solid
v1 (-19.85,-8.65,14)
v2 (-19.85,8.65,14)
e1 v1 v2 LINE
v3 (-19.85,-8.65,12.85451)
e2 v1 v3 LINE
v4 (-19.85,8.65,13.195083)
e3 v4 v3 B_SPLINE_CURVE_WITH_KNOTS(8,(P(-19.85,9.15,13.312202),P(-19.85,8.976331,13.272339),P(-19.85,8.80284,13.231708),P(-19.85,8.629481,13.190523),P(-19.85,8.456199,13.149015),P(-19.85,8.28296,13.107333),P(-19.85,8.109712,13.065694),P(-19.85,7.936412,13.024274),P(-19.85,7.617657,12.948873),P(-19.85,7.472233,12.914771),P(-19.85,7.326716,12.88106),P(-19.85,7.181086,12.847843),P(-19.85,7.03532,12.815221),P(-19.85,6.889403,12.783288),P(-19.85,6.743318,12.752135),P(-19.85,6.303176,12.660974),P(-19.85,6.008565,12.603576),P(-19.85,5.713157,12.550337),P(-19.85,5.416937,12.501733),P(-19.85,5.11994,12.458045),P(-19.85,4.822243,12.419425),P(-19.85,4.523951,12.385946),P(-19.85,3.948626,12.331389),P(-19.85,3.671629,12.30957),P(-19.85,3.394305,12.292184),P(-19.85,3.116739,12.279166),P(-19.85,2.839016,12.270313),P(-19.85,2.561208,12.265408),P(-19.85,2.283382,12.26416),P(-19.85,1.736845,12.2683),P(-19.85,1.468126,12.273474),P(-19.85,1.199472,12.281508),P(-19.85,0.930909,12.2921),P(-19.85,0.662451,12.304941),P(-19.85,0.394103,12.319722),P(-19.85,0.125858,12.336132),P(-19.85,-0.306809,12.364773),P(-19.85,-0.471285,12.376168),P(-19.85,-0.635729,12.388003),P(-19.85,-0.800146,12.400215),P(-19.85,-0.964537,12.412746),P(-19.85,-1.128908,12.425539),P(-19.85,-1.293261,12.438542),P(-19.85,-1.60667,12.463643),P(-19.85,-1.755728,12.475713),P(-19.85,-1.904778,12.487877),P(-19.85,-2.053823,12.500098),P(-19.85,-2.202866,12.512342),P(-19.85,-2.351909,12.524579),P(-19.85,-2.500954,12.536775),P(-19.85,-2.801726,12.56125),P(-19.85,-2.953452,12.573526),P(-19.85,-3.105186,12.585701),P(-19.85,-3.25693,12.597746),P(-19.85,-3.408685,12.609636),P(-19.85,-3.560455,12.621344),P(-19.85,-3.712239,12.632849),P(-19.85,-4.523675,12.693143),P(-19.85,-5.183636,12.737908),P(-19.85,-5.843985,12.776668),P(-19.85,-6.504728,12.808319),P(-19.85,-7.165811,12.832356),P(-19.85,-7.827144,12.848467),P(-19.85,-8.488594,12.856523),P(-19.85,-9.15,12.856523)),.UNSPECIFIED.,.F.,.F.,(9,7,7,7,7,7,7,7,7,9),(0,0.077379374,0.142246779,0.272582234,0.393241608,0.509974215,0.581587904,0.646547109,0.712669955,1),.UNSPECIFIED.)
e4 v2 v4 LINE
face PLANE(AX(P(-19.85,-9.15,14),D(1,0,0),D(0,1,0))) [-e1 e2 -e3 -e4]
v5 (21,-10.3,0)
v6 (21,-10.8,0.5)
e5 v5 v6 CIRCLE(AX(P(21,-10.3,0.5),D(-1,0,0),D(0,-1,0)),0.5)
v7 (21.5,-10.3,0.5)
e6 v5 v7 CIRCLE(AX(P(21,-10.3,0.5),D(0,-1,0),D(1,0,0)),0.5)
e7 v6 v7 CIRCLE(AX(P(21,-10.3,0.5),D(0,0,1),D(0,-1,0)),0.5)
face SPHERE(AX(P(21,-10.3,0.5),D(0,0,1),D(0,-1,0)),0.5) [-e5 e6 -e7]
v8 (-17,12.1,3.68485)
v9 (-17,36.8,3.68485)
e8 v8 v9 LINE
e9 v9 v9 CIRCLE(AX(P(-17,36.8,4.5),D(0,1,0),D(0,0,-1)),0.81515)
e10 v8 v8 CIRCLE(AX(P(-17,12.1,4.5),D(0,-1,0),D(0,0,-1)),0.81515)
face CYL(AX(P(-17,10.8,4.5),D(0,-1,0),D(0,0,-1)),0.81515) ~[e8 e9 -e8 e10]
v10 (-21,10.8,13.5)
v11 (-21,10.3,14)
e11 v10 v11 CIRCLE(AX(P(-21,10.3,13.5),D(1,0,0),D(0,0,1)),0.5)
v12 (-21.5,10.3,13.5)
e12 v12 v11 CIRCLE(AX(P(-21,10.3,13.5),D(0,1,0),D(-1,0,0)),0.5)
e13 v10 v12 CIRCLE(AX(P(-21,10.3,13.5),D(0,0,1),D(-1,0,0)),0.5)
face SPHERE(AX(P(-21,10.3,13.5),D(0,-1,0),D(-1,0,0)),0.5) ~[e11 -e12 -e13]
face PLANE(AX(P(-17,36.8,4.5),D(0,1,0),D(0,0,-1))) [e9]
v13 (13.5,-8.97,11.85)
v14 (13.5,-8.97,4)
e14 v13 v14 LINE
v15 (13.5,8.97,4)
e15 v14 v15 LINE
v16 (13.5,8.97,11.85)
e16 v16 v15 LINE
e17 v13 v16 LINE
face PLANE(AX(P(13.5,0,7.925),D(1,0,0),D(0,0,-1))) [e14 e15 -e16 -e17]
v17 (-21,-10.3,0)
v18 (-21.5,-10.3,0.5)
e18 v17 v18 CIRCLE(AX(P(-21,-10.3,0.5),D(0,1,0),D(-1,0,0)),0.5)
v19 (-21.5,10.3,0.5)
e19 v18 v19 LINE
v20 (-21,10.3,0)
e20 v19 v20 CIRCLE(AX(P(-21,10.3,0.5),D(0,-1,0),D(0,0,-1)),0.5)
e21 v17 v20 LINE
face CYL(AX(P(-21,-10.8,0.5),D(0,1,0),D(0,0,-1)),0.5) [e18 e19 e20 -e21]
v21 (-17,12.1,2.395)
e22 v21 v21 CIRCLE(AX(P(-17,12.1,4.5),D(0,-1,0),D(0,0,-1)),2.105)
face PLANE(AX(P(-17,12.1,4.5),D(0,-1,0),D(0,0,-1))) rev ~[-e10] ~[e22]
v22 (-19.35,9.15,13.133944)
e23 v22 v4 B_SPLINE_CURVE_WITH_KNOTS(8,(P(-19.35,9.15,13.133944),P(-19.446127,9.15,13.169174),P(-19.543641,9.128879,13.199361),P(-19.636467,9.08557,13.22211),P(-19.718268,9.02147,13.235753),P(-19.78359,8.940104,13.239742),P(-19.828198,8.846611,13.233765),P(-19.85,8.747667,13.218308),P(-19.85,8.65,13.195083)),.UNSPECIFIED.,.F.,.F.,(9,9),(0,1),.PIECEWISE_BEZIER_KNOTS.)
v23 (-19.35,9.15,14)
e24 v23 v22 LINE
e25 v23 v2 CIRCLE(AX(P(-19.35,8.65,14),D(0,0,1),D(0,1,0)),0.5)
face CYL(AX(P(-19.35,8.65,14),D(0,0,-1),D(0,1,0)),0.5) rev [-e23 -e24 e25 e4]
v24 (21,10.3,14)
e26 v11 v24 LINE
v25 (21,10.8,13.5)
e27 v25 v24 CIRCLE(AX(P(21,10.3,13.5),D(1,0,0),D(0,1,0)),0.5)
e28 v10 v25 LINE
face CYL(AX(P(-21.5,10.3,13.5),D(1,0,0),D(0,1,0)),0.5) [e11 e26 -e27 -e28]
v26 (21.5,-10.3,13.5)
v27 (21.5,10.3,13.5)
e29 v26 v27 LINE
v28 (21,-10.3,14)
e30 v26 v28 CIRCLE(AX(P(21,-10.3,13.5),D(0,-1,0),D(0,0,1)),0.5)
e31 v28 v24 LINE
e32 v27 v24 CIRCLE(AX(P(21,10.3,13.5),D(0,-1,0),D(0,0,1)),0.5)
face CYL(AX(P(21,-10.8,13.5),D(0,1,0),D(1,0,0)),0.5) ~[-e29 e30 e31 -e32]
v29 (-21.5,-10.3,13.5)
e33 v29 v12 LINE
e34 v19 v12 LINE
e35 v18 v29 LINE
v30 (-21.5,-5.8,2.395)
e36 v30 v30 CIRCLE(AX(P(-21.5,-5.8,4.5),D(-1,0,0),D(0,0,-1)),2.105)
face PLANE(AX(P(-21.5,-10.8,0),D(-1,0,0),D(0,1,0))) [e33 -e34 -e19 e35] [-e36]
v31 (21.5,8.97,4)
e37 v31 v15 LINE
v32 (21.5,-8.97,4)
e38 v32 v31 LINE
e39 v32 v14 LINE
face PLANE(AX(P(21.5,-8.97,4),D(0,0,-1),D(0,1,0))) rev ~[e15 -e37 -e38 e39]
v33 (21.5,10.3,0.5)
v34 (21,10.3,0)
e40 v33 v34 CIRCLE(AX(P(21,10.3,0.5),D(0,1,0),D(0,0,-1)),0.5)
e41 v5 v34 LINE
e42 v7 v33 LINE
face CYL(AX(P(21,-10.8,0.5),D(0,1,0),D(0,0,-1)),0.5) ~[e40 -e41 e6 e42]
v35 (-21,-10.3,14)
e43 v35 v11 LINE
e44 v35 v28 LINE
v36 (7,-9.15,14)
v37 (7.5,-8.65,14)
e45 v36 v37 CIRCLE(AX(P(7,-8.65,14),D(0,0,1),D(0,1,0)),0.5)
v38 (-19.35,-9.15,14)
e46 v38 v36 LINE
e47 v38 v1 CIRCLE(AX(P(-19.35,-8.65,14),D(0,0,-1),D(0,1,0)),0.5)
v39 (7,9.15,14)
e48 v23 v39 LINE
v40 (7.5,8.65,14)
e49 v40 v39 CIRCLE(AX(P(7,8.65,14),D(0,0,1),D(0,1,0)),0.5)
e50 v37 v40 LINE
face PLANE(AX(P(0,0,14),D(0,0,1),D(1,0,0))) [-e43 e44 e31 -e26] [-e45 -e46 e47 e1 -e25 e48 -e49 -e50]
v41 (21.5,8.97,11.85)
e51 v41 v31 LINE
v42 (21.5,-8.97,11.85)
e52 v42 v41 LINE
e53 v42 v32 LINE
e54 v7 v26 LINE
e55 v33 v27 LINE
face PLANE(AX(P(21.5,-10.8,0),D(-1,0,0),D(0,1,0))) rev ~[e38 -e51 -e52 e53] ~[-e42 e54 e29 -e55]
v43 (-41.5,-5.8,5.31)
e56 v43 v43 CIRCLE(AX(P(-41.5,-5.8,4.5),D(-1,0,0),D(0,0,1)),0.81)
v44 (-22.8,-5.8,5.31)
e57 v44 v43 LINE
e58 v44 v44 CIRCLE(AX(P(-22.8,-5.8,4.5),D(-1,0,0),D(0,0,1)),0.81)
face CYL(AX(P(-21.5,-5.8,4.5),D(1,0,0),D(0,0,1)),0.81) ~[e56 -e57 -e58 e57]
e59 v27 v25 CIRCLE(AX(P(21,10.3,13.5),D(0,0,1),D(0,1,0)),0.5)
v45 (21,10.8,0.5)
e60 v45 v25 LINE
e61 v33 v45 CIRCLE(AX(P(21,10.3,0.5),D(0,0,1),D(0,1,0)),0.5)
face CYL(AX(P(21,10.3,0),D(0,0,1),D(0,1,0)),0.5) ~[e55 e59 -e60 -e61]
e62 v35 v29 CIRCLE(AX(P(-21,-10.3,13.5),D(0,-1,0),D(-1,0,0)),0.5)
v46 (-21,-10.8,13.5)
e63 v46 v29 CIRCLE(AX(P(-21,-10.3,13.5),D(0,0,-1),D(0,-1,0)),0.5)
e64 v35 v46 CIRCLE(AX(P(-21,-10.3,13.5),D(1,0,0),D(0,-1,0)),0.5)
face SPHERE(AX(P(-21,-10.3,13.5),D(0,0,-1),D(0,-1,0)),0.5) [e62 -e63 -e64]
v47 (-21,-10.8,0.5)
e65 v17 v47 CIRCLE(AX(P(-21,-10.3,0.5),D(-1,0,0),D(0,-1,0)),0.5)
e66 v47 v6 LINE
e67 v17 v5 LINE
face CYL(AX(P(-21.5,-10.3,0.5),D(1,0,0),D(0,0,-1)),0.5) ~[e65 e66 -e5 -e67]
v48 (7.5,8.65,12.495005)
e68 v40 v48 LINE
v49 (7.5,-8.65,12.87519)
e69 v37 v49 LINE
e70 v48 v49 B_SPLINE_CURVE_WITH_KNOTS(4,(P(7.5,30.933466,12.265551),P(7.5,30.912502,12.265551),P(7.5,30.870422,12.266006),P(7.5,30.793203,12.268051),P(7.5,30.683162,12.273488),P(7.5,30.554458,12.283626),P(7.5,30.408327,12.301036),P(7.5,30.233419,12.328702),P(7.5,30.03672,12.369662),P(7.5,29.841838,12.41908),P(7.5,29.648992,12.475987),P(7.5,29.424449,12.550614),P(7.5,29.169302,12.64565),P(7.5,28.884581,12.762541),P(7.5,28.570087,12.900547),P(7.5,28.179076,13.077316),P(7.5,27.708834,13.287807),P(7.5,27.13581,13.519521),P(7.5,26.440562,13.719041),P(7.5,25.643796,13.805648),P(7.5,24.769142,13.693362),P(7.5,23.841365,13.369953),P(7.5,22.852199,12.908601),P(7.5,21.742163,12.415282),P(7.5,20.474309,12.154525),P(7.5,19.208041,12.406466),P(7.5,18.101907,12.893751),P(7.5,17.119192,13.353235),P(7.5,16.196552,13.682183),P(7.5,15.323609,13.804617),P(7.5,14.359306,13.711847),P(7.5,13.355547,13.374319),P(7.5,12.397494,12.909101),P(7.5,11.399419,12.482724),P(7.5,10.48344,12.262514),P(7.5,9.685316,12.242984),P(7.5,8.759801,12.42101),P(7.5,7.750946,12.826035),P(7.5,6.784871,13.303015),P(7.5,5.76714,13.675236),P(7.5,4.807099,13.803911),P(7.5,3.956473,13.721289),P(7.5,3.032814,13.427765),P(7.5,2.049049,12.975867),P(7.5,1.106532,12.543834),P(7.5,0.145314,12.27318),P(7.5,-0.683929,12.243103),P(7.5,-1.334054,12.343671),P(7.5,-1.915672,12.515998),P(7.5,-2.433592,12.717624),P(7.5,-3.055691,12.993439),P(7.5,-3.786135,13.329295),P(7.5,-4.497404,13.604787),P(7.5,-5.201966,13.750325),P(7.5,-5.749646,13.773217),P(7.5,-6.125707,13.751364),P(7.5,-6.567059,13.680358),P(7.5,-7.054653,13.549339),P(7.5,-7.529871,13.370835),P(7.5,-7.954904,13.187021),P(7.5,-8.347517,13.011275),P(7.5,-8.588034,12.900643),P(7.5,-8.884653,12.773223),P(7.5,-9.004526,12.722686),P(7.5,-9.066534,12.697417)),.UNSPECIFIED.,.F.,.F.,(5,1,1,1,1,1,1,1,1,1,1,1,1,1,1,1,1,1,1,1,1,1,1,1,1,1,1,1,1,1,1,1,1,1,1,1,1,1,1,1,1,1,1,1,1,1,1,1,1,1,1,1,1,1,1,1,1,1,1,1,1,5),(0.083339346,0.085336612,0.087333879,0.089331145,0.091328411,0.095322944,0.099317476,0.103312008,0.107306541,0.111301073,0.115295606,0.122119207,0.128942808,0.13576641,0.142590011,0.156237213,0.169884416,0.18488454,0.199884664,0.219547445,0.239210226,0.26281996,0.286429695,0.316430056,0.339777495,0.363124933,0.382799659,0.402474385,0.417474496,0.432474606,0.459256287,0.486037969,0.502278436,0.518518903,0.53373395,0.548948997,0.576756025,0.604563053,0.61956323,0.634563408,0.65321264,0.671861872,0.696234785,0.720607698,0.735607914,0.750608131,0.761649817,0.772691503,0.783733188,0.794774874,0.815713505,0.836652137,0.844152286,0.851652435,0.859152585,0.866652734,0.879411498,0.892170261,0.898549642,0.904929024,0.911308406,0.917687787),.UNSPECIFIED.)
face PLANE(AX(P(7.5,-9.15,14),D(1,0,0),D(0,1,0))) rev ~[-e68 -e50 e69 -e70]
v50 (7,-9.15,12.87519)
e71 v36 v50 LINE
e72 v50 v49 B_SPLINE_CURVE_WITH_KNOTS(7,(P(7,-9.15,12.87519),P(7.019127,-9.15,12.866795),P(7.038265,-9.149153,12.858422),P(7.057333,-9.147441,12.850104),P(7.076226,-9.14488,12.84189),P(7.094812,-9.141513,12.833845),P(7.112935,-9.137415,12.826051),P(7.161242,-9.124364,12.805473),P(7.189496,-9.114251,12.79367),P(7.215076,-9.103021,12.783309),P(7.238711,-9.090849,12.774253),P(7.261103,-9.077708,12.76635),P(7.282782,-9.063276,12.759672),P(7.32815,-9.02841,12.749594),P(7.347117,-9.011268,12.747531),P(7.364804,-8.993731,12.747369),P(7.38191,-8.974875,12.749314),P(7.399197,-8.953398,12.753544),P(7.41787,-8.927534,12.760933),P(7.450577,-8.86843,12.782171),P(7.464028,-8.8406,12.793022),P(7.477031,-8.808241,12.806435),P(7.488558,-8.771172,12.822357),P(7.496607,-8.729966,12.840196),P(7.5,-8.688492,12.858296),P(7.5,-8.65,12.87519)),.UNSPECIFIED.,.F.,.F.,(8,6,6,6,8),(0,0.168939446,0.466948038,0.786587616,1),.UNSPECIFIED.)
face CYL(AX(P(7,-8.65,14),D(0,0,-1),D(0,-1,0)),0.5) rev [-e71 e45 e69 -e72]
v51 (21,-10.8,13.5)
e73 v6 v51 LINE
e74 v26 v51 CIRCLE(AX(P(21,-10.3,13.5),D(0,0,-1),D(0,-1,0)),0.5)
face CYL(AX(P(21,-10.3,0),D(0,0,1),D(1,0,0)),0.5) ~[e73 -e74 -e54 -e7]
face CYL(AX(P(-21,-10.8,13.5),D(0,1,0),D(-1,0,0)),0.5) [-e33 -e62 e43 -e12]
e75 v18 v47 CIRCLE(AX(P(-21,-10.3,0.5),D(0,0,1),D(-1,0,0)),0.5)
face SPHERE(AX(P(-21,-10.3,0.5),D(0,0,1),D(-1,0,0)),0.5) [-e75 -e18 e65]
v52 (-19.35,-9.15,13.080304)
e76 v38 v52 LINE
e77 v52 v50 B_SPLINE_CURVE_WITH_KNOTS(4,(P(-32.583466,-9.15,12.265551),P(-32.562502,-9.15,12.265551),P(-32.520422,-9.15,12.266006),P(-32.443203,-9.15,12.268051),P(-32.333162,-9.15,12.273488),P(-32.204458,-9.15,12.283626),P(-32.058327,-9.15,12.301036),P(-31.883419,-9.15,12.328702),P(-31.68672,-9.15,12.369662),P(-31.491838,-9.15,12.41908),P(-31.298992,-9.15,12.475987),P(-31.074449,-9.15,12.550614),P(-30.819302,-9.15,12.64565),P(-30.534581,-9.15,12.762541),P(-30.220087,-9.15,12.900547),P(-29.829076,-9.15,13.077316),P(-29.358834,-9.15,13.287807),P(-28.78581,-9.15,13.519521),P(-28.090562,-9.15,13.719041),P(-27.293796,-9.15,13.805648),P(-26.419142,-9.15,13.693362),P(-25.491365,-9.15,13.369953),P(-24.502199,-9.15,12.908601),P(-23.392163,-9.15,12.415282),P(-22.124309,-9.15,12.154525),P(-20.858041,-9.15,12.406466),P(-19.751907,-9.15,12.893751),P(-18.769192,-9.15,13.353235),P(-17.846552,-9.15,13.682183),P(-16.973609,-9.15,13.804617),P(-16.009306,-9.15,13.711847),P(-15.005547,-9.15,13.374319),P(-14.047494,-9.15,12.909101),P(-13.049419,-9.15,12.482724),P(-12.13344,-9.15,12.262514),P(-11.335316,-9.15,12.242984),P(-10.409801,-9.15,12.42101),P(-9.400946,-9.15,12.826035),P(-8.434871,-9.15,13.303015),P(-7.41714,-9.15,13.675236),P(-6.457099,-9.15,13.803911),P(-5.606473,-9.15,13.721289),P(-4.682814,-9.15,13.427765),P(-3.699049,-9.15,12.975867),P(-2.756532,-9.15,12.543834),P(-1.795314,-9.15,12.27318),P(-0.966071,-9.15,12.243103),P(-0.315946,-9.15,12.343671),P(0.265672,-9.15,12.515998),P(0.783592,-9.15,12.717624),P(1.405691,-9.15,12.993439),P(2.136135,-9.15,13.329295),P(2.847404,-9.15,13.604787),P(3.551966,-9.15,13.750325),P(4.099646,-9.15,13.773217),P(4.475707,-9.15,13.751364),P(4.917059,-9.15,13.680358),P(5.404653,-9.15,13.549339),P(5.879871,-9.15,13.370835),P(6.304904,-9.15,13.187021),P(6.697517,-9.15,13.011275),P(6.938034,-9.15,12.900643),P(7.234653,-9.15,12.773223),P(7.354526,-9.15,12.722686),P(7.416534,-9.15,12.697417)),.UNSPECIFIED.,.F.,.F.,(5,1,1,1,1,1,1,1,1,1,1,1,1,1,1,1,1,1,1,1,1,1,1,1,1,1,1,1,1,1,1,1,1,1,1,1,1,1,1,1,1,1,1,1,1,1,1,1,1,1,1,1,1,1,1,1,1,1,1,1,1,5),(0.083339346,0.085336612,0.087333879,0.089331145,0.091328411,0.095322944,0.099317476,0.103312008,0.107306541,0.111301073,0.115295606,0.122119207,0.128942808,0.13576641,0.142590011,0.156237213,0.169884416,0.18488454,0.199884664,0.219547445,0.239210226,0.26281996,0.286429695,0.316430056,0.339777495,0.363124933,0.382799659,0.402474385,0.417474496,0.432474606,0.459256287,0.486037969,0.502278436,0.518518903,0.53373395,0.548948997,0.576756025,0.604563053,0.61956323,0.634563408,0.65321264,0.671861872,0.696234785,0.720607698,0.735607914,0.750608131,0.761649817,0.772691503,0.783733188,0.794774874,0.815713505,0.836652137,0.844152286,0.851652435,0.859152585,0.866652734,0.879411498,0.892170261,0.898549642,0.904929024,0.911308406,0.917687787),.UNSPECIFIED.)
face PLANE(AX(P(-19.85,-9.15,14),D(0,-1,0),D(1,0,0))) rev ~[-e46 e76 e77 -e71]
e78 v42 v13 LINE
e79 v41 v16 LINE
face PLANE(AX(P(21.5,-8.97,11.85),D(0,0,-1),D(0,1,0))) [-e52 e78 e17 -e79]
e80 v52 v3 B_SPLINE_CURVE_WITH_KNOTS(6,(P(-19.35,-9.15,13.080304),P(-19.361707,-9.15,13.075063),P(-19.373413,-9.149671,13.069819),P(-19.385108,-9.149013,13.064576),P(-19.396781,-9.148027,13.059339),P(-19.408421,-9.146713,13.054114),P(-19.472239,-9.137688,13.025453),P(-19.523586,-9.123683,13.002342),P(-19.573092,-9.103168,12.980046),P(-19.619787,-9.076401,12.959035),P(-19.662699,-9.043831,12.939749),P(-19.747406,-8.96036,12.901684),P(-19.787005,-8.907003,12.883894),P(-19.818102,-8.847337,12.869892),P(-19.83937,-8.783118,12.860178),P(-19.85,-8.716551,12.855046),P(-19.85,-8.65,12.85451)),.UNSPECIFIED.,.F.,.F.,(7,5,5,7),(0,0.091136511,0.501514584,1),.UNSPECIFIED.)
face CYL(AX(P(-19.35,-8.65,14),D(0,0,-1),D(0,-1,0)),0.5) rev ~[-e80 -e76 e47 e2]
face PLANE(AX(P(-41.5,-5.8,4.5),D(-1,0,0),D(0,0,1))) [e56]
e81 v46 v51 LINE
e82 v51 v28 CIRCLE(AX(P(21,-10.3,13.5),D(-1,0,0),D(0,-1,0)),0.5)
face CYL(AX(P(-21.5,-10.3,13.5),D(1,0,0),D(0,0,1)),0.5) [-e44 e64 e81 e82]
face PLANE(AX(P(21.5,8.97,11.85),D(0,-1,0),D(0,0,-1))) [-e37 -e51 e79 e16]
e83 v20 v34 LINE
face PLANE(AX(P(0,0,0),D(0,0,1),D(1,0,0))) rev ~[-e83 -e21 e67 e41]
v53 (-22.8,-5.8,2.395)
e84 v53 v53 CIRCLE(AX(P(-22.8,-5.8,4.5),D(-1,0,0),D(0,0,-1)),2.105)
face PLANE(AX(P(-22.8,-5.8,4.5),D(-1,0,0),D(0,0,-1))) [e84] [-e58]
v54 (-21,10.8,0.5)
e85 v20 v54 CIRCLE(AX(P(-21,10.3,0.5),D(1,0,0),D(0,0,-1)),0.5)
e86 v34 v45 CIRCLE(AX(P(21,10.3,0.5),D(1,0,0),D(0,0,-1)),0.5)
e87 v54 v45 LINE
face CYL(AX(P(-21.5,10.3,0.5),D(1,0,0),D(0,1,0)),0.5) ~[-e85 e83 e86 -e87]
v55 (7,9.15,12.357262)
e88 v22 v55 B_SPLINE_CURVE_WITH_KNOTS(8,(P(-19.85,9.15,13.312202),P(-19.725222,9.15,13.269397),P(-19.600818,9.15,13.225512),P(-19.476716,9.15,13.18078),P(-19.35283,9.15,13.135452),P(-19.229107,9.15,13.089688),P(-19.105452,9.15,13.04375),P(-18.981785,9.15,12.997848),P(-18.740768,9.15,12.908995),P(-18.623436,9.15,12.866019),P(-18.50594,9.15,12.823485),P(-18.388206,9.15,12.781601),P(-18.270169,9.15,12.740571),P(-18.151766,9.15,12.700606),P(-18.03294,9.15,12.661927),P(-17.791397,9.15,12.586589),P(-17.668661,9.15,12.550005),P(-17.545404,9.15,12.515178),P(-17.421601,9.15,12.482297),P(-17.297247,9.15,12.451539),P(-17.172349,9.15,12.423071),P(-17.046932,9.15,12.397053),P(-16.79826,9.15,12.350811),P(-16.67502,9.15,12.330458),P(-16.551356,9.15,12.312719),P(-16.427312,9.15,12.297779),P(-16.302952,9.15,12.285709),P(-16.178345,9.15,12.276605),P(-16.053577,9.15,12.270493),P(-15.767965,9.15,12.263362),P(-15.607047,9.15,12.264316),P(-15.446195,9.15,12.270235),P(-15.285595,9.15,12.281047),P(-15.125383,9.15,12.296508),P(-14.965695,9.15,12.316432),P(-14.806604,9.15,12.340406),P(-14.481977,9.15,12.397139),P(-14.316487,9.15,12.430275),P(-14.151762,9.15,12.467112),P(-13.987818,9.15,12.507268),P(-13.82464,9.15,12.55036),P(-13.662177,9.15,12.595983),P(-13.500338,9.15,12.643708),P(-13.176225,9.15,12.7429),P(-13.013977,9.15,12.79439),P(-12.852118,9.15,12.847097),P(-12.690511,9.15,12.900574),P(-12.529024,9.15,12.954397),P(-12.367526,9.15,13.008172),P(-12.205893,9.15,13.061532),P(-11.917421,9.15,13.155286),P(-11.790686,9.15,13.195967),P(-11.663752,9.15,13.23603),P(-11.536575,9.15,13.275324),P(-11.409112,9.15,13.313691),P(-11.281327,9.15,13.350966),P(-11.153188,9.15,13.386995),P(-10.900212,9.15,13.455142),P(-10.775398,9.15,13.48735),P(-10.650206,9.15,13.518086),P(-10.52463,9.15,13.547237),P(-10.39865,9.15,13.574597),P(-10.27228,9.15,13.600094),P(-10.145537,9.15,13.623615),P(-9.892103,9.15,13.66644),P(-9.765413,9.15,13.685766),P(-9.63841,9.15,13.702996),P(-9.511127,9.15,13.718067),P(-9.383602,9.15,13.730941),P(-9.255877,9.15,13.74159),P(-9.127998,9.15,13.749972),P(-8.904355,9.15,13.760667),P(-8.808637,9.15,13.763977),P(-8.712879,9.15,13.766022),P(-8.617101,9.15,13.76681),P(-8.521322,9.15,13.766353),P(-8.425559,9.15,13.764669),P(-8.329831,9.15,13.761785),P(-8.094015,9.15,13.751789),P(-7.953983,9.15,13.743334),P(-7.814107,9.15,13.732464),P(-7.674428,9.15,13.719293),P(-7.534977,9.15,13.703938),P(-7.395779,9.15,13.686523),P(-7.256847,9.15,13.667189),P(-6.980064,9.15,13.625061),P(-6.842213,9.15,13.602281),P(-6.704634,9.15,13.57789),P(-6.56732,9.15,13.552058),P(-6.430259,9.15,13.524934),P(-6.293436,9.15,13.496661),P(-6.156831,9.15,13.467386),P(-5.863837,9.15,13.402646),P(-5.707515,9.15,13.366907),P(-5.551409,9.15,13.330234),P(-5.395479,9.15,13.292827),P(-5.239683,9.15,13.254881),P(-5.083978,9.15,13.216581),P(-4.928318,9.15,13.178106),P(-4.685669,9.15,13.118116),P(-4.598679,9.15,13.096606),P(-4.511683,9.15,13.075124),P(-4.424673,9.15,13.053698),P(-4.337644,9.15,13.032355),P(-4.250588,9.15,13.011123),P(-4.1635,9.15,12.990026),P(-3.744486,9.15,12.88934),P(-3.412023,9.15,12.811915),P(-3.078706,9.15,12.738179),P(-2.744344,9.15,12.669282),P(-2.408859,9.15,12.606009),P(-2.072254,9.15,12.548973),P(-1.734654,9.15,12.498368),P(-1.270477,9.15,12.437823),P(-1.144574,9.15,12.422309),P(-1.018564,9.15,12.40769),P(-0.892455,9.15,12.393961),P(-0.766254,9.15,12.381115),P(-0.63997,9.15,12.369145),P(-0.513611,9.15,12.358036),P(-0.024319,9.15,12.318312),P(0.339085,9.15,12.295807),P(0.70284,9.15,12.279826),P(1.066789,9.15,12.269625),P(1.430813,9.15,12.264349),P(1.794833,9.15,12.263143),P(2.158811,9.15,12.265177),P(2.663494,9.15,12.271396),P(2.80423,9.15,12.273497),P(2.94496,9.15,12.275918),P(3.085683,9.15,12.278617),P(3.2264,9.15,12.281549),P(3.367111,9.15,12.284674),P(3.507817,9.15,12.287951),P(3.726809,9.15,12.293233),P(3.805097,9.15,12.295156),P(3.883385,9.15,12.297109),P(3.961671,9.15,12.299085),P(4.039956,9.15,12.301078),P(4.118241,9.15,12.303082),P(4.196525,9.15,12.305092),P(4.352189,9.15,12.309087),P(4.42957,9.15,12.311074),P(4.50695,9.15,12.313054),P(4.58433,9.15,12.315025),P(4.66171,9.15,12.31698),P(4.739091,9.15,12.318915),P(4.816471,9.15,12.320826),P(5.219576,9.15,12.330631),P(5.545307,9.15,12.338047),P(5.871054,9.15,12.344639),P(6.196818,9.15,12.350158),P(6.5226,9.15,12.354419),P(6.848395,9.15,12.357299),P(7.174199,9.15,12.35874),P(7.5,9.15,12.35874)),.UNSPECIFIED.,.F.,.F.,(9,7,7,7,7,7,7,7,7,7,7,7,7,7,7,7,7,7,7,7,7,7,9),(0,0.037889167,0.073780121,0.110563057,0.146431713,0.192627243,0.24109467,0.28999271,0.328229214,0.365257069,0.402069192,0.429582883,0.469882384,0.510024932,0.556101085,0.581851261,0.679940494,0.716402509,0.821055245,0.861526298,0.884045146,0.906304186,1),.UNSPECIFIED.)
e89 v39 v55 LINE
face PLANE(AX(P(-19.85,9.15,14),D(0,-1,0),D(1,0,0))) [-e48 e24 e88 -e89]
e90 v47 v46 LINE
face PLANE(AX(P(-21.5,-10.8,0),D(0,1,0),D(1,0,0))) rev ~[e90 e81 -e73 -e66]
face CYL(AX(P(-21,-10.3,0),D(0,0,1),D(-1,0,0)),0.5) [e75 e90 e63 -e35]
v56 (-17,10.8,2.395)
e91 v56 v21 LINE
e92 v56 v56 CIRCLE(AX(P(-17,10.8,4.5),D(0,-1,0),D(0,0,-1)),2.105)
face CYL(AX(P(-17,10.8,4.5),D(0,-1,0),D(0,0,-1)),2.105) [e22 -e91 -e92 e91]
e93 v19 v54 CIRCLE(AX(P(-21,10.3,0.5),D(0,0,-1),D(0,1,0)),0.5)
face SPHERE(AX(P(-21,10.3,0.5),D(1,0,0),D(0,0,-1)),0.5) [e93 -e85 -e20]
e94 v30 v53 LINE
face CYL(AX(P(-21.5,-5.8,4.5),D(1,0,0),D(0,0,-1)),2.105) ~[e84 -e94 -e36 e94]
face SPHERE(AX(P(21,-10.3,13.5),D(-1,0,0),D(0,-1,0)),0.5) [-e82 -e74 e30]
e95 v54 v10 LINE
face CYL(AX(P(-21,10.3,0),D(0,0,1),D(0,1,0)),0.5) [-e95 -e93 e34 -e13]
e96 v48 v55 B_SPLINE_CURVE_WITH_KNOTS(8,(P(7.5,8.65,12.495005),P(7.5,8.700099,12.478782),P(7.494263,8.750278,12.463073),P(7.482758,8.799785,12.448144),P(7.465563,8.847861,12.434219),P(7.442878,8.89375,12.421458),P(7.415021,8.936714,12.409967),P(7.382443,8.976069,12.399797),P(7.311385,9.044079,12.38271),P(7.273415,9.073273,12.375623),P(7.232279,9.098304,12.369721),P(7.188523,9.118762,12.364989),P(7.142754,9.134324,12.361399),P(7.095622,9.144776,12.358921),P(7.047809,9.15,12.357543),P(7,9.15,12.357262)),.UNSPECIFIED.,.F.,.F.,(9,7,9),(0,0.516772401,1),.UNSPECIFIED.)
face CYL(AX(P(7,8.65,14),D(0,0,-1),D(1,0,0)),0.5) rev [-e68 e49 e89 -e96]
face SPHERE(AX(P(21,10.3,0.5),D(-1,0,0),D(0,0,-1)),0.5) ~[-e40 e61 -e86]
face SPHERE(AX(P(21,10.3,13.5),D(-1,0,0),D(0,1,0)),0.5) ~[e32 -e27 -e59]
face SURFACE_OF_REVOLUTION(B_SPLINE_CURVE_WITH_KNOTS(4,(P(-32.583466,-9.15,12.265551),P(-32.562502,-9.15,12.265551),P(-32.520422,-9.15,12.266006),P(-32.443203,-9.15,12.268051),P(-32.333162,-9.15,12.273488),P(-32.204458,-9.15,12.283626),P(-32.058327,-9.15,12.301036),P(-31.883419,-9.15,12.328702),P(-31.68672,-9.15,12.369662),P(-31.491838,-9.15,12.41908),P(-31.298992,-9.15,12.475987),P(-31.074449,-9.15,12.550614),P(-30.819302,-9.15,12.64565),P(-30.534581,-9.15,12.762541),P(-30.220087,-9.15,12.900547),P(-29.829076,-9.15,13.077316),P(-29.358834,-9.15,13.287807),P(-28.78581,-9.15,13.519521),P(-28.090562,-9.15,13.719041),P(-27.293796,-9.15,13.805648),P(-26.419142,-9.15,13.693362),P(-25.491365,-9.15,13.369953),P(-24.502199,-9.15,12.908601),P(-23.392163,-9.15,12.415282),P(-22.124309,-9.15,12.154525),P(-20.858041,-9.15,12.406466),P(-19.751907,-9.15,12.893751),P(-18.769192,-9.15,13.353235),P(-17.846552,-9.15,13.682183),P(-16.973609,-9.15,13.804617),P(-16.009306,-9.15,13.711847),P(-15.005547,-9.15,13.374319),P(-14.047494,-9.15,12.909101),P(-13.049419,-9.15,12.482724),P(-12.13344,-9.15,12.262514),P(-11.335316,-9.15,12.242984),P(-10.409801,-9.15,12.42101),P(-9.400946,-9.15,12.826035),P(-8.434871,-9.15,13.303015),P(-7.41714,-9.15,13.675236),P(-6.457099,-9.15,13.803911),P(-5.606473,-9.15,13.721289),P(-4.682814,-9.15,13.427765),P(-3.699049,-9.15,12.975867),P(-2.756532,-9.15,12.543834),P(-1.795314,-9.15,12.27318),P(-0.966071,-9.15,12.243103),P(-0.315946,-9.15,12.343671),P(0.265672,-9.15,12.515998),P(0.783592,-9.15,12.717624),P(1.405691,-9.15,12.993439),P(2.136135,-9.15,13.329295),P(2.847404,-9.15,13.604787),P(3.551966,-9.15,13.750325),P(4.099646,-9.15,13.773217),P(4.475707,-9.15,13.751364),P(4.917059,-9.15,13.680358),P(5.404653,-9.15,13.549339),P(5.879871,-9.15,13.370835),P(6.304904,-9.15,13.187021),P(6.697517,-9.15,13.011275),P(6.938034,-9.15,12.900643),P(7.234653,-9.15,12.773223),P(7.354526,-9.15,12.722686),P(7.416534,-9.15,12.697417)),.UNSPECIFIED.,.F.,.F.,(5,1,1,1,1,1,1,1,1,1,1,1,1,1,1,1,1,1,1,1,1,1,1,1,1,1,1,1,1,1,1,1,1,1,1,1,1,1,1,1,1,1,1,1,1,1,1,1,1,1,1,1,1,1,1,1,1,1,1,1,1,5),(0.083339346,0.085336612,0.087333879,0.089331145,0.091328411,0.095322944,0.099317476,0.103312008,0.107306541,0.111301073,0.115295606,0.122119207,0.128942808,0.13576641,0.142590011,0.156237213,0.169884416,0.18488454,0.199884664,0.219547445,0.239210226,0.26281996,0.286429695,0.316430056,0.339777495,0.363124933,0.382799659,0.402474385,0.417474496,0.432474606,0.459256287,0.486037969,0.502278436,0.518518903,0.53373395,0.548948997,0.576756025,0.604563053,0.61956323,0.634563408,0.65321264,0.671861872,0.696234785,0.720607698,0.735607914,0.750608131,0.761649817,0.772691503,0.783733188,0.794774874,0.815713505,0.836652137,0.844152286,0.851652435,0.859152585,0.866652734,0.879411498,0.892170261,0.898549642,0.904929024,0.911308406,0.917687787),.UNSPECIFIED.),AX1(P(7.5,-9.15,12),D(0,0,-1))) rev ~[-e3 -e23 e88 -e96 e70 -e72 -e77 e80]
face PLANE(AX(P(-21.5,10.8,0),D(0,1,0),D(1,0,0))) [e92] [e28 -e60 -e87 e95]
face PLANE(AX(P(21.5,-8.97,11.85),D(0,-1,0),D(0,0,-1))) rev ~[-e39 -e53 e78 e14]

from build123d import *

# Parameters (mm, degrees)
SKETCH1_W           = 43
SKETCH1_H           = 21.6
BOSS_EXTRUDE1_DEPTH = 14
SKETCH2_W           = 27.35
SKETCH2_H           = 18.3
CUT_EXTRUDE1_DEPTH  = 2
SKETCH3_W           = 7.85
SKETCH3_H           = 17.94
CUT_EXTRUDE2_DEPTH  = 8
REVOLVE2_ANGLE      = 90
SKETCH5_W           = 92.23581066
SKETCH5_H           = 73.43389541
SKETCH5_W_2         = 43
SKETCH5_H_2         = 21.6
CUT_EXTRUDE3_DEPTH  = 23
SKETCH6_R           = 2.105
SKETCH6_R_2         = 0.81
BOSS_EXTRUDE2_DEPTH = 1.3
SKETCH7_R           = 2.105
SKETCH7_R_2         = 0.81
BOSS_EXTRUDE3_DEPTH = 1.3
SKETCH8_R           = 0.81
BOSS_EXTRUDE4_DEPTH = 20
SKETCH9_R           = 0.815150105
BOSS_EXTRUDE5_DEPTH = 26
FILLET1_R           = 0.5


with BuildPart() as part:
    # Sketch1 → Boss-Extrude1 (new body)
    with BuildSketch(Plane.XY):
        Rectangle(SKETCH1_W, SKETCH1_H)
    extrude(amount=BOSS_EXTRUDE1_DEPTH)

    # Sketch2 → Cut-Extrude1 (cut)
    with BuildSketch(Plane.XY.offset(14)):
        with Locations((-6.175, 0)):
            Rectangle(SKETCH2_W, SKETCH2_H)
    extrude(amount=-CUT_EXTRUDE1_DEPTH, mode=Mode.SUBTRACT)

    # Sketch3 → Cut-Extrude2 (cut)
    with BuildSketch(Plane(origin=(21.5, 0, 0), x_dir=(0, 0, -1), z_dir=(1, 0, 0))):
        with Locations((-7.925, 0)):
            Rectangle(SKETCH3_W, SKETCH3_H)
    extrude(amount=-CUT_EXTRUDE2_DEPTH, mode=Mode.SUBTRACT)

    # Sketch4 → Revolve2 (revolve)
    with BuildSketch(Plane(origin=(0, -9.15, 0), x_dir=(1, 0, 0), z_dir=(0, 1, 0))):
        with BuildLine():
            Line((-32.583466089, -10.1469511), (-32.583466089, -12.265551486))
            add(Edge.make_bspline(
                [(-32.583466089, -12.265551486), (-32.562502483, -12.265551486), (-32.520421916, -12.266006033), (-32.4432028, -12.268051491), (-32.333162226, -12.273488053), (-32.204458453, -12.283626191), (-32.058326628, -12.301036433), (-31.883418572, -12.328702131), (-31.686720457, -12.369661846), (-31.491837838, -12.419079982), (-31.298991654, -12.47598715), (-31.074449095, -12.55061405), (-30.819301893, -12.645650497), (-30.534581384, -12.762541391), (-30.220087155, -12.900547222), (-29.829076239, -13.077316326), (-29.358834293, -13.28780702), (-28.785809577, -13.519520804), (-28.090562481, -13.719040931), (-27.293796046, -13.805648084), (-26.419142059, -13.693362453), (-25.49136496, -13.369953032), (-24.502198634, -12.908600866), (-23.392162802, -12.415282136), (-22.124309457, -12.154525407), (-20.858041285, -12.40646563), (-19.751906697, -12.893751072), (-18.769192416, -13.353235169), (-17.846551628, -13.682182536), (-16.973609278, -13.804616553), (-16.009305612, -13.711847073), (-15.005547104, -13.37431948), (-14.04749388, -12.909101), (-13.049418653, -12.482723934), (-12.133440252, -12.262513677), (-11.3353156, -12.242983824), (-10.409800826, -12.421010141), (-9.400945989, -12.826034613), (-8.434871057, -13.30301482), (-7.417140082, -13.675236005), (-6.457099181, -13.803910561), (-5.606473079, -13.72128943), (-4.682813704, -13.427765218), (-3.69904901, -12.975867192), (-2.756532087, -12.543833591), (-1.795314434, -12.273179903), (-0.966070624, -12.243102783), (-0.315946216, -12.343671298), (0.265672195, -12.515998278), (0.783591987, -12.717624267), (1.405691454, -12.993439328), (2.136134729, -13.329294572), (2.847403799, -13.604786677), (3.551966265, -13.750324658), (4.099646321, -13.773217429), (4.475706664, -13.751363619), (4.917058627, -13.680358163), (5.404652636, -13.54933903), (5.879870794, -13.370834982), (6.304903895, -13.187020764), (6.697517429, -13.011274996), (6.938033599, -12.90064266), (7.234652875, -12.773222965), (7.35452597, -12.722686103), (7.41653391, -12.697417231)],
                knots=[0.083339346, 0.083339346, 0.083339346, 0.083339346, 0.083339346, 0.085336612, 0.087333879, 0.089331145, 0.091328411, 0.095322944, 0.099317476, 0.103312008, 0.107306541, 0.111301073, 0.115295606, 0.122119207, 0.128942808, 0.13576641, 0.142590011, 0.156237213, 0.169884416, 0.18488454, 0.199884664, 0.219547445, 0.239210226, 0.26281996, 0.286429695, 0.316430056, 0.339777495, 0.363124933, 0.382799659, 0.402474385, 0.417474496, 0.432474606, 0.459256287, 0.486037969, 0.502278436, 0.518518903, 0.53373395, 0.548948997, 0.576756025, 0.604563053, 0.61956323, 0.634563408, 0.65321264, 0.671861872, 0.696234785, 0.720607698, 0.735607914, 0.750608131, 0.761649817, 0.772691503, 0.783733188, 0.794774874, 0.815713505, 0.836652137, 0.844152286, 0.851652435, 0.859152585, 0.866652734, 0.879411498, 0.892170261, 0.898549642, 0.904929024, 0.911308406, 0.917687787, 0.917687787, 0.917687787, 0.917687787, 0.917687787], degree=4))
            Line((7.41653391, -12.697417231), (7.41653391, -10.1469511))
            Line((7.41653391, -10.1469511), (-32.583466089, -10.1469511))
        make_face()
    revolve(axis=Axis((7.5, -9.15, 12), (0, 0, -1)), revolution_arc=REVOLVE2_ANGLE)

    # Sketch5 → Cut-Extrude3 (cut)
    with BuildSketch(Plane.XY):
        with Locations((3.214998373, 5.833103881)):
            Rectangle(SKETCH5_W, SKETCH5_H)
        Rectangle(SKETCH5_W_2, SKETCH5_H_2, mode=Mode.SUBTRACT)
    extrude(amount=CUT_EXTRUDE3_DEPTH, mode=Mode.SUBTRACT)

    # Sketch6 → Boss-Extrude2 (add)
    with BuildSketch(Plane.ZY.offset(21.5)):
        with Locations(Location((4.5, -5.8, 0), (0, 0, 180))):
            Circle(SKETCH6_R)
        with Locations((4.5, -5.8)):
            Circle(SKETCH6_R_2, mode=Mode.SUBTRACT)
    extrude(amount=BOSS_EXTRUDE2_DEPTH)

    # Sketch7 → Boss-Extrude3 (add)
    with BuildSketch(Plane(origin=(0, 10.8, -10.8), x_dir=(1, 0, 0), z_dir=(0, -1, 0))):
        with Locations(Location((-17, 15.3, 0), (0, 0, 270))):
            Circle(SKETCH7_R)
        with Locations(Location((-17, 15.3, 0), (0, 0, 270))):
            Circle(SKETCH7_R_2, mode=Mode.SUBTRACT)
    extrude(amount=-BOSS_EXTRUDE3_DEPTH)

    # Sketch8 → Boss-Extrude4 (add)
    with BuildSketch(Plane.ZY.offset(21.5)):
        with Locations((4.5, -5.8)):
            Circle(SKETCH8_R)
    extrude(amount=BOSS_EXTRUDE4_DEPTH)

    # Sketch9 → Boss-Extrude5 (add)
    with BuildSketch(Plane(origin=(0, 10.8, 0), x_dir=(1, 0, 0), z_dir=(0, 1, 0))):
        with Locations(Location((-17, -4.5, 0), (0, 0, 90))):
            Circle(SKETCH9_R)
    extrude(amount=BOSS_EXTRUDE5_DEPTH)

    # Fillet1
    fillet1_edges = [part.edges().sort_by_distance(p)[0] for p in [
        (-21.5, -10.8, 7),
        (0, -10.8, 14),
        (21.5, -10.8, 7),
        (0, 10.8, 0),
        (-21.5, 0, 0),
        (0, -10.8, 0),
        (21.5, 0, 0),
        (7.5, -9.15, 13),
        (7.5, 9.15, 13.179370152),
        (-19.85, 9.15, 13.656100765),
        (-19.85, -9.15, 13.428261731),
        (-21.5, 0, 14),
        (-21.5, 10.8, 7),
        (0, 10.8, 14),
        (21.5, 10.8, 7),
        (21.5, 0, 14),
    ]]
    fillet(fillet1_edges, radius=FILLET1_R)


solid = part.part
